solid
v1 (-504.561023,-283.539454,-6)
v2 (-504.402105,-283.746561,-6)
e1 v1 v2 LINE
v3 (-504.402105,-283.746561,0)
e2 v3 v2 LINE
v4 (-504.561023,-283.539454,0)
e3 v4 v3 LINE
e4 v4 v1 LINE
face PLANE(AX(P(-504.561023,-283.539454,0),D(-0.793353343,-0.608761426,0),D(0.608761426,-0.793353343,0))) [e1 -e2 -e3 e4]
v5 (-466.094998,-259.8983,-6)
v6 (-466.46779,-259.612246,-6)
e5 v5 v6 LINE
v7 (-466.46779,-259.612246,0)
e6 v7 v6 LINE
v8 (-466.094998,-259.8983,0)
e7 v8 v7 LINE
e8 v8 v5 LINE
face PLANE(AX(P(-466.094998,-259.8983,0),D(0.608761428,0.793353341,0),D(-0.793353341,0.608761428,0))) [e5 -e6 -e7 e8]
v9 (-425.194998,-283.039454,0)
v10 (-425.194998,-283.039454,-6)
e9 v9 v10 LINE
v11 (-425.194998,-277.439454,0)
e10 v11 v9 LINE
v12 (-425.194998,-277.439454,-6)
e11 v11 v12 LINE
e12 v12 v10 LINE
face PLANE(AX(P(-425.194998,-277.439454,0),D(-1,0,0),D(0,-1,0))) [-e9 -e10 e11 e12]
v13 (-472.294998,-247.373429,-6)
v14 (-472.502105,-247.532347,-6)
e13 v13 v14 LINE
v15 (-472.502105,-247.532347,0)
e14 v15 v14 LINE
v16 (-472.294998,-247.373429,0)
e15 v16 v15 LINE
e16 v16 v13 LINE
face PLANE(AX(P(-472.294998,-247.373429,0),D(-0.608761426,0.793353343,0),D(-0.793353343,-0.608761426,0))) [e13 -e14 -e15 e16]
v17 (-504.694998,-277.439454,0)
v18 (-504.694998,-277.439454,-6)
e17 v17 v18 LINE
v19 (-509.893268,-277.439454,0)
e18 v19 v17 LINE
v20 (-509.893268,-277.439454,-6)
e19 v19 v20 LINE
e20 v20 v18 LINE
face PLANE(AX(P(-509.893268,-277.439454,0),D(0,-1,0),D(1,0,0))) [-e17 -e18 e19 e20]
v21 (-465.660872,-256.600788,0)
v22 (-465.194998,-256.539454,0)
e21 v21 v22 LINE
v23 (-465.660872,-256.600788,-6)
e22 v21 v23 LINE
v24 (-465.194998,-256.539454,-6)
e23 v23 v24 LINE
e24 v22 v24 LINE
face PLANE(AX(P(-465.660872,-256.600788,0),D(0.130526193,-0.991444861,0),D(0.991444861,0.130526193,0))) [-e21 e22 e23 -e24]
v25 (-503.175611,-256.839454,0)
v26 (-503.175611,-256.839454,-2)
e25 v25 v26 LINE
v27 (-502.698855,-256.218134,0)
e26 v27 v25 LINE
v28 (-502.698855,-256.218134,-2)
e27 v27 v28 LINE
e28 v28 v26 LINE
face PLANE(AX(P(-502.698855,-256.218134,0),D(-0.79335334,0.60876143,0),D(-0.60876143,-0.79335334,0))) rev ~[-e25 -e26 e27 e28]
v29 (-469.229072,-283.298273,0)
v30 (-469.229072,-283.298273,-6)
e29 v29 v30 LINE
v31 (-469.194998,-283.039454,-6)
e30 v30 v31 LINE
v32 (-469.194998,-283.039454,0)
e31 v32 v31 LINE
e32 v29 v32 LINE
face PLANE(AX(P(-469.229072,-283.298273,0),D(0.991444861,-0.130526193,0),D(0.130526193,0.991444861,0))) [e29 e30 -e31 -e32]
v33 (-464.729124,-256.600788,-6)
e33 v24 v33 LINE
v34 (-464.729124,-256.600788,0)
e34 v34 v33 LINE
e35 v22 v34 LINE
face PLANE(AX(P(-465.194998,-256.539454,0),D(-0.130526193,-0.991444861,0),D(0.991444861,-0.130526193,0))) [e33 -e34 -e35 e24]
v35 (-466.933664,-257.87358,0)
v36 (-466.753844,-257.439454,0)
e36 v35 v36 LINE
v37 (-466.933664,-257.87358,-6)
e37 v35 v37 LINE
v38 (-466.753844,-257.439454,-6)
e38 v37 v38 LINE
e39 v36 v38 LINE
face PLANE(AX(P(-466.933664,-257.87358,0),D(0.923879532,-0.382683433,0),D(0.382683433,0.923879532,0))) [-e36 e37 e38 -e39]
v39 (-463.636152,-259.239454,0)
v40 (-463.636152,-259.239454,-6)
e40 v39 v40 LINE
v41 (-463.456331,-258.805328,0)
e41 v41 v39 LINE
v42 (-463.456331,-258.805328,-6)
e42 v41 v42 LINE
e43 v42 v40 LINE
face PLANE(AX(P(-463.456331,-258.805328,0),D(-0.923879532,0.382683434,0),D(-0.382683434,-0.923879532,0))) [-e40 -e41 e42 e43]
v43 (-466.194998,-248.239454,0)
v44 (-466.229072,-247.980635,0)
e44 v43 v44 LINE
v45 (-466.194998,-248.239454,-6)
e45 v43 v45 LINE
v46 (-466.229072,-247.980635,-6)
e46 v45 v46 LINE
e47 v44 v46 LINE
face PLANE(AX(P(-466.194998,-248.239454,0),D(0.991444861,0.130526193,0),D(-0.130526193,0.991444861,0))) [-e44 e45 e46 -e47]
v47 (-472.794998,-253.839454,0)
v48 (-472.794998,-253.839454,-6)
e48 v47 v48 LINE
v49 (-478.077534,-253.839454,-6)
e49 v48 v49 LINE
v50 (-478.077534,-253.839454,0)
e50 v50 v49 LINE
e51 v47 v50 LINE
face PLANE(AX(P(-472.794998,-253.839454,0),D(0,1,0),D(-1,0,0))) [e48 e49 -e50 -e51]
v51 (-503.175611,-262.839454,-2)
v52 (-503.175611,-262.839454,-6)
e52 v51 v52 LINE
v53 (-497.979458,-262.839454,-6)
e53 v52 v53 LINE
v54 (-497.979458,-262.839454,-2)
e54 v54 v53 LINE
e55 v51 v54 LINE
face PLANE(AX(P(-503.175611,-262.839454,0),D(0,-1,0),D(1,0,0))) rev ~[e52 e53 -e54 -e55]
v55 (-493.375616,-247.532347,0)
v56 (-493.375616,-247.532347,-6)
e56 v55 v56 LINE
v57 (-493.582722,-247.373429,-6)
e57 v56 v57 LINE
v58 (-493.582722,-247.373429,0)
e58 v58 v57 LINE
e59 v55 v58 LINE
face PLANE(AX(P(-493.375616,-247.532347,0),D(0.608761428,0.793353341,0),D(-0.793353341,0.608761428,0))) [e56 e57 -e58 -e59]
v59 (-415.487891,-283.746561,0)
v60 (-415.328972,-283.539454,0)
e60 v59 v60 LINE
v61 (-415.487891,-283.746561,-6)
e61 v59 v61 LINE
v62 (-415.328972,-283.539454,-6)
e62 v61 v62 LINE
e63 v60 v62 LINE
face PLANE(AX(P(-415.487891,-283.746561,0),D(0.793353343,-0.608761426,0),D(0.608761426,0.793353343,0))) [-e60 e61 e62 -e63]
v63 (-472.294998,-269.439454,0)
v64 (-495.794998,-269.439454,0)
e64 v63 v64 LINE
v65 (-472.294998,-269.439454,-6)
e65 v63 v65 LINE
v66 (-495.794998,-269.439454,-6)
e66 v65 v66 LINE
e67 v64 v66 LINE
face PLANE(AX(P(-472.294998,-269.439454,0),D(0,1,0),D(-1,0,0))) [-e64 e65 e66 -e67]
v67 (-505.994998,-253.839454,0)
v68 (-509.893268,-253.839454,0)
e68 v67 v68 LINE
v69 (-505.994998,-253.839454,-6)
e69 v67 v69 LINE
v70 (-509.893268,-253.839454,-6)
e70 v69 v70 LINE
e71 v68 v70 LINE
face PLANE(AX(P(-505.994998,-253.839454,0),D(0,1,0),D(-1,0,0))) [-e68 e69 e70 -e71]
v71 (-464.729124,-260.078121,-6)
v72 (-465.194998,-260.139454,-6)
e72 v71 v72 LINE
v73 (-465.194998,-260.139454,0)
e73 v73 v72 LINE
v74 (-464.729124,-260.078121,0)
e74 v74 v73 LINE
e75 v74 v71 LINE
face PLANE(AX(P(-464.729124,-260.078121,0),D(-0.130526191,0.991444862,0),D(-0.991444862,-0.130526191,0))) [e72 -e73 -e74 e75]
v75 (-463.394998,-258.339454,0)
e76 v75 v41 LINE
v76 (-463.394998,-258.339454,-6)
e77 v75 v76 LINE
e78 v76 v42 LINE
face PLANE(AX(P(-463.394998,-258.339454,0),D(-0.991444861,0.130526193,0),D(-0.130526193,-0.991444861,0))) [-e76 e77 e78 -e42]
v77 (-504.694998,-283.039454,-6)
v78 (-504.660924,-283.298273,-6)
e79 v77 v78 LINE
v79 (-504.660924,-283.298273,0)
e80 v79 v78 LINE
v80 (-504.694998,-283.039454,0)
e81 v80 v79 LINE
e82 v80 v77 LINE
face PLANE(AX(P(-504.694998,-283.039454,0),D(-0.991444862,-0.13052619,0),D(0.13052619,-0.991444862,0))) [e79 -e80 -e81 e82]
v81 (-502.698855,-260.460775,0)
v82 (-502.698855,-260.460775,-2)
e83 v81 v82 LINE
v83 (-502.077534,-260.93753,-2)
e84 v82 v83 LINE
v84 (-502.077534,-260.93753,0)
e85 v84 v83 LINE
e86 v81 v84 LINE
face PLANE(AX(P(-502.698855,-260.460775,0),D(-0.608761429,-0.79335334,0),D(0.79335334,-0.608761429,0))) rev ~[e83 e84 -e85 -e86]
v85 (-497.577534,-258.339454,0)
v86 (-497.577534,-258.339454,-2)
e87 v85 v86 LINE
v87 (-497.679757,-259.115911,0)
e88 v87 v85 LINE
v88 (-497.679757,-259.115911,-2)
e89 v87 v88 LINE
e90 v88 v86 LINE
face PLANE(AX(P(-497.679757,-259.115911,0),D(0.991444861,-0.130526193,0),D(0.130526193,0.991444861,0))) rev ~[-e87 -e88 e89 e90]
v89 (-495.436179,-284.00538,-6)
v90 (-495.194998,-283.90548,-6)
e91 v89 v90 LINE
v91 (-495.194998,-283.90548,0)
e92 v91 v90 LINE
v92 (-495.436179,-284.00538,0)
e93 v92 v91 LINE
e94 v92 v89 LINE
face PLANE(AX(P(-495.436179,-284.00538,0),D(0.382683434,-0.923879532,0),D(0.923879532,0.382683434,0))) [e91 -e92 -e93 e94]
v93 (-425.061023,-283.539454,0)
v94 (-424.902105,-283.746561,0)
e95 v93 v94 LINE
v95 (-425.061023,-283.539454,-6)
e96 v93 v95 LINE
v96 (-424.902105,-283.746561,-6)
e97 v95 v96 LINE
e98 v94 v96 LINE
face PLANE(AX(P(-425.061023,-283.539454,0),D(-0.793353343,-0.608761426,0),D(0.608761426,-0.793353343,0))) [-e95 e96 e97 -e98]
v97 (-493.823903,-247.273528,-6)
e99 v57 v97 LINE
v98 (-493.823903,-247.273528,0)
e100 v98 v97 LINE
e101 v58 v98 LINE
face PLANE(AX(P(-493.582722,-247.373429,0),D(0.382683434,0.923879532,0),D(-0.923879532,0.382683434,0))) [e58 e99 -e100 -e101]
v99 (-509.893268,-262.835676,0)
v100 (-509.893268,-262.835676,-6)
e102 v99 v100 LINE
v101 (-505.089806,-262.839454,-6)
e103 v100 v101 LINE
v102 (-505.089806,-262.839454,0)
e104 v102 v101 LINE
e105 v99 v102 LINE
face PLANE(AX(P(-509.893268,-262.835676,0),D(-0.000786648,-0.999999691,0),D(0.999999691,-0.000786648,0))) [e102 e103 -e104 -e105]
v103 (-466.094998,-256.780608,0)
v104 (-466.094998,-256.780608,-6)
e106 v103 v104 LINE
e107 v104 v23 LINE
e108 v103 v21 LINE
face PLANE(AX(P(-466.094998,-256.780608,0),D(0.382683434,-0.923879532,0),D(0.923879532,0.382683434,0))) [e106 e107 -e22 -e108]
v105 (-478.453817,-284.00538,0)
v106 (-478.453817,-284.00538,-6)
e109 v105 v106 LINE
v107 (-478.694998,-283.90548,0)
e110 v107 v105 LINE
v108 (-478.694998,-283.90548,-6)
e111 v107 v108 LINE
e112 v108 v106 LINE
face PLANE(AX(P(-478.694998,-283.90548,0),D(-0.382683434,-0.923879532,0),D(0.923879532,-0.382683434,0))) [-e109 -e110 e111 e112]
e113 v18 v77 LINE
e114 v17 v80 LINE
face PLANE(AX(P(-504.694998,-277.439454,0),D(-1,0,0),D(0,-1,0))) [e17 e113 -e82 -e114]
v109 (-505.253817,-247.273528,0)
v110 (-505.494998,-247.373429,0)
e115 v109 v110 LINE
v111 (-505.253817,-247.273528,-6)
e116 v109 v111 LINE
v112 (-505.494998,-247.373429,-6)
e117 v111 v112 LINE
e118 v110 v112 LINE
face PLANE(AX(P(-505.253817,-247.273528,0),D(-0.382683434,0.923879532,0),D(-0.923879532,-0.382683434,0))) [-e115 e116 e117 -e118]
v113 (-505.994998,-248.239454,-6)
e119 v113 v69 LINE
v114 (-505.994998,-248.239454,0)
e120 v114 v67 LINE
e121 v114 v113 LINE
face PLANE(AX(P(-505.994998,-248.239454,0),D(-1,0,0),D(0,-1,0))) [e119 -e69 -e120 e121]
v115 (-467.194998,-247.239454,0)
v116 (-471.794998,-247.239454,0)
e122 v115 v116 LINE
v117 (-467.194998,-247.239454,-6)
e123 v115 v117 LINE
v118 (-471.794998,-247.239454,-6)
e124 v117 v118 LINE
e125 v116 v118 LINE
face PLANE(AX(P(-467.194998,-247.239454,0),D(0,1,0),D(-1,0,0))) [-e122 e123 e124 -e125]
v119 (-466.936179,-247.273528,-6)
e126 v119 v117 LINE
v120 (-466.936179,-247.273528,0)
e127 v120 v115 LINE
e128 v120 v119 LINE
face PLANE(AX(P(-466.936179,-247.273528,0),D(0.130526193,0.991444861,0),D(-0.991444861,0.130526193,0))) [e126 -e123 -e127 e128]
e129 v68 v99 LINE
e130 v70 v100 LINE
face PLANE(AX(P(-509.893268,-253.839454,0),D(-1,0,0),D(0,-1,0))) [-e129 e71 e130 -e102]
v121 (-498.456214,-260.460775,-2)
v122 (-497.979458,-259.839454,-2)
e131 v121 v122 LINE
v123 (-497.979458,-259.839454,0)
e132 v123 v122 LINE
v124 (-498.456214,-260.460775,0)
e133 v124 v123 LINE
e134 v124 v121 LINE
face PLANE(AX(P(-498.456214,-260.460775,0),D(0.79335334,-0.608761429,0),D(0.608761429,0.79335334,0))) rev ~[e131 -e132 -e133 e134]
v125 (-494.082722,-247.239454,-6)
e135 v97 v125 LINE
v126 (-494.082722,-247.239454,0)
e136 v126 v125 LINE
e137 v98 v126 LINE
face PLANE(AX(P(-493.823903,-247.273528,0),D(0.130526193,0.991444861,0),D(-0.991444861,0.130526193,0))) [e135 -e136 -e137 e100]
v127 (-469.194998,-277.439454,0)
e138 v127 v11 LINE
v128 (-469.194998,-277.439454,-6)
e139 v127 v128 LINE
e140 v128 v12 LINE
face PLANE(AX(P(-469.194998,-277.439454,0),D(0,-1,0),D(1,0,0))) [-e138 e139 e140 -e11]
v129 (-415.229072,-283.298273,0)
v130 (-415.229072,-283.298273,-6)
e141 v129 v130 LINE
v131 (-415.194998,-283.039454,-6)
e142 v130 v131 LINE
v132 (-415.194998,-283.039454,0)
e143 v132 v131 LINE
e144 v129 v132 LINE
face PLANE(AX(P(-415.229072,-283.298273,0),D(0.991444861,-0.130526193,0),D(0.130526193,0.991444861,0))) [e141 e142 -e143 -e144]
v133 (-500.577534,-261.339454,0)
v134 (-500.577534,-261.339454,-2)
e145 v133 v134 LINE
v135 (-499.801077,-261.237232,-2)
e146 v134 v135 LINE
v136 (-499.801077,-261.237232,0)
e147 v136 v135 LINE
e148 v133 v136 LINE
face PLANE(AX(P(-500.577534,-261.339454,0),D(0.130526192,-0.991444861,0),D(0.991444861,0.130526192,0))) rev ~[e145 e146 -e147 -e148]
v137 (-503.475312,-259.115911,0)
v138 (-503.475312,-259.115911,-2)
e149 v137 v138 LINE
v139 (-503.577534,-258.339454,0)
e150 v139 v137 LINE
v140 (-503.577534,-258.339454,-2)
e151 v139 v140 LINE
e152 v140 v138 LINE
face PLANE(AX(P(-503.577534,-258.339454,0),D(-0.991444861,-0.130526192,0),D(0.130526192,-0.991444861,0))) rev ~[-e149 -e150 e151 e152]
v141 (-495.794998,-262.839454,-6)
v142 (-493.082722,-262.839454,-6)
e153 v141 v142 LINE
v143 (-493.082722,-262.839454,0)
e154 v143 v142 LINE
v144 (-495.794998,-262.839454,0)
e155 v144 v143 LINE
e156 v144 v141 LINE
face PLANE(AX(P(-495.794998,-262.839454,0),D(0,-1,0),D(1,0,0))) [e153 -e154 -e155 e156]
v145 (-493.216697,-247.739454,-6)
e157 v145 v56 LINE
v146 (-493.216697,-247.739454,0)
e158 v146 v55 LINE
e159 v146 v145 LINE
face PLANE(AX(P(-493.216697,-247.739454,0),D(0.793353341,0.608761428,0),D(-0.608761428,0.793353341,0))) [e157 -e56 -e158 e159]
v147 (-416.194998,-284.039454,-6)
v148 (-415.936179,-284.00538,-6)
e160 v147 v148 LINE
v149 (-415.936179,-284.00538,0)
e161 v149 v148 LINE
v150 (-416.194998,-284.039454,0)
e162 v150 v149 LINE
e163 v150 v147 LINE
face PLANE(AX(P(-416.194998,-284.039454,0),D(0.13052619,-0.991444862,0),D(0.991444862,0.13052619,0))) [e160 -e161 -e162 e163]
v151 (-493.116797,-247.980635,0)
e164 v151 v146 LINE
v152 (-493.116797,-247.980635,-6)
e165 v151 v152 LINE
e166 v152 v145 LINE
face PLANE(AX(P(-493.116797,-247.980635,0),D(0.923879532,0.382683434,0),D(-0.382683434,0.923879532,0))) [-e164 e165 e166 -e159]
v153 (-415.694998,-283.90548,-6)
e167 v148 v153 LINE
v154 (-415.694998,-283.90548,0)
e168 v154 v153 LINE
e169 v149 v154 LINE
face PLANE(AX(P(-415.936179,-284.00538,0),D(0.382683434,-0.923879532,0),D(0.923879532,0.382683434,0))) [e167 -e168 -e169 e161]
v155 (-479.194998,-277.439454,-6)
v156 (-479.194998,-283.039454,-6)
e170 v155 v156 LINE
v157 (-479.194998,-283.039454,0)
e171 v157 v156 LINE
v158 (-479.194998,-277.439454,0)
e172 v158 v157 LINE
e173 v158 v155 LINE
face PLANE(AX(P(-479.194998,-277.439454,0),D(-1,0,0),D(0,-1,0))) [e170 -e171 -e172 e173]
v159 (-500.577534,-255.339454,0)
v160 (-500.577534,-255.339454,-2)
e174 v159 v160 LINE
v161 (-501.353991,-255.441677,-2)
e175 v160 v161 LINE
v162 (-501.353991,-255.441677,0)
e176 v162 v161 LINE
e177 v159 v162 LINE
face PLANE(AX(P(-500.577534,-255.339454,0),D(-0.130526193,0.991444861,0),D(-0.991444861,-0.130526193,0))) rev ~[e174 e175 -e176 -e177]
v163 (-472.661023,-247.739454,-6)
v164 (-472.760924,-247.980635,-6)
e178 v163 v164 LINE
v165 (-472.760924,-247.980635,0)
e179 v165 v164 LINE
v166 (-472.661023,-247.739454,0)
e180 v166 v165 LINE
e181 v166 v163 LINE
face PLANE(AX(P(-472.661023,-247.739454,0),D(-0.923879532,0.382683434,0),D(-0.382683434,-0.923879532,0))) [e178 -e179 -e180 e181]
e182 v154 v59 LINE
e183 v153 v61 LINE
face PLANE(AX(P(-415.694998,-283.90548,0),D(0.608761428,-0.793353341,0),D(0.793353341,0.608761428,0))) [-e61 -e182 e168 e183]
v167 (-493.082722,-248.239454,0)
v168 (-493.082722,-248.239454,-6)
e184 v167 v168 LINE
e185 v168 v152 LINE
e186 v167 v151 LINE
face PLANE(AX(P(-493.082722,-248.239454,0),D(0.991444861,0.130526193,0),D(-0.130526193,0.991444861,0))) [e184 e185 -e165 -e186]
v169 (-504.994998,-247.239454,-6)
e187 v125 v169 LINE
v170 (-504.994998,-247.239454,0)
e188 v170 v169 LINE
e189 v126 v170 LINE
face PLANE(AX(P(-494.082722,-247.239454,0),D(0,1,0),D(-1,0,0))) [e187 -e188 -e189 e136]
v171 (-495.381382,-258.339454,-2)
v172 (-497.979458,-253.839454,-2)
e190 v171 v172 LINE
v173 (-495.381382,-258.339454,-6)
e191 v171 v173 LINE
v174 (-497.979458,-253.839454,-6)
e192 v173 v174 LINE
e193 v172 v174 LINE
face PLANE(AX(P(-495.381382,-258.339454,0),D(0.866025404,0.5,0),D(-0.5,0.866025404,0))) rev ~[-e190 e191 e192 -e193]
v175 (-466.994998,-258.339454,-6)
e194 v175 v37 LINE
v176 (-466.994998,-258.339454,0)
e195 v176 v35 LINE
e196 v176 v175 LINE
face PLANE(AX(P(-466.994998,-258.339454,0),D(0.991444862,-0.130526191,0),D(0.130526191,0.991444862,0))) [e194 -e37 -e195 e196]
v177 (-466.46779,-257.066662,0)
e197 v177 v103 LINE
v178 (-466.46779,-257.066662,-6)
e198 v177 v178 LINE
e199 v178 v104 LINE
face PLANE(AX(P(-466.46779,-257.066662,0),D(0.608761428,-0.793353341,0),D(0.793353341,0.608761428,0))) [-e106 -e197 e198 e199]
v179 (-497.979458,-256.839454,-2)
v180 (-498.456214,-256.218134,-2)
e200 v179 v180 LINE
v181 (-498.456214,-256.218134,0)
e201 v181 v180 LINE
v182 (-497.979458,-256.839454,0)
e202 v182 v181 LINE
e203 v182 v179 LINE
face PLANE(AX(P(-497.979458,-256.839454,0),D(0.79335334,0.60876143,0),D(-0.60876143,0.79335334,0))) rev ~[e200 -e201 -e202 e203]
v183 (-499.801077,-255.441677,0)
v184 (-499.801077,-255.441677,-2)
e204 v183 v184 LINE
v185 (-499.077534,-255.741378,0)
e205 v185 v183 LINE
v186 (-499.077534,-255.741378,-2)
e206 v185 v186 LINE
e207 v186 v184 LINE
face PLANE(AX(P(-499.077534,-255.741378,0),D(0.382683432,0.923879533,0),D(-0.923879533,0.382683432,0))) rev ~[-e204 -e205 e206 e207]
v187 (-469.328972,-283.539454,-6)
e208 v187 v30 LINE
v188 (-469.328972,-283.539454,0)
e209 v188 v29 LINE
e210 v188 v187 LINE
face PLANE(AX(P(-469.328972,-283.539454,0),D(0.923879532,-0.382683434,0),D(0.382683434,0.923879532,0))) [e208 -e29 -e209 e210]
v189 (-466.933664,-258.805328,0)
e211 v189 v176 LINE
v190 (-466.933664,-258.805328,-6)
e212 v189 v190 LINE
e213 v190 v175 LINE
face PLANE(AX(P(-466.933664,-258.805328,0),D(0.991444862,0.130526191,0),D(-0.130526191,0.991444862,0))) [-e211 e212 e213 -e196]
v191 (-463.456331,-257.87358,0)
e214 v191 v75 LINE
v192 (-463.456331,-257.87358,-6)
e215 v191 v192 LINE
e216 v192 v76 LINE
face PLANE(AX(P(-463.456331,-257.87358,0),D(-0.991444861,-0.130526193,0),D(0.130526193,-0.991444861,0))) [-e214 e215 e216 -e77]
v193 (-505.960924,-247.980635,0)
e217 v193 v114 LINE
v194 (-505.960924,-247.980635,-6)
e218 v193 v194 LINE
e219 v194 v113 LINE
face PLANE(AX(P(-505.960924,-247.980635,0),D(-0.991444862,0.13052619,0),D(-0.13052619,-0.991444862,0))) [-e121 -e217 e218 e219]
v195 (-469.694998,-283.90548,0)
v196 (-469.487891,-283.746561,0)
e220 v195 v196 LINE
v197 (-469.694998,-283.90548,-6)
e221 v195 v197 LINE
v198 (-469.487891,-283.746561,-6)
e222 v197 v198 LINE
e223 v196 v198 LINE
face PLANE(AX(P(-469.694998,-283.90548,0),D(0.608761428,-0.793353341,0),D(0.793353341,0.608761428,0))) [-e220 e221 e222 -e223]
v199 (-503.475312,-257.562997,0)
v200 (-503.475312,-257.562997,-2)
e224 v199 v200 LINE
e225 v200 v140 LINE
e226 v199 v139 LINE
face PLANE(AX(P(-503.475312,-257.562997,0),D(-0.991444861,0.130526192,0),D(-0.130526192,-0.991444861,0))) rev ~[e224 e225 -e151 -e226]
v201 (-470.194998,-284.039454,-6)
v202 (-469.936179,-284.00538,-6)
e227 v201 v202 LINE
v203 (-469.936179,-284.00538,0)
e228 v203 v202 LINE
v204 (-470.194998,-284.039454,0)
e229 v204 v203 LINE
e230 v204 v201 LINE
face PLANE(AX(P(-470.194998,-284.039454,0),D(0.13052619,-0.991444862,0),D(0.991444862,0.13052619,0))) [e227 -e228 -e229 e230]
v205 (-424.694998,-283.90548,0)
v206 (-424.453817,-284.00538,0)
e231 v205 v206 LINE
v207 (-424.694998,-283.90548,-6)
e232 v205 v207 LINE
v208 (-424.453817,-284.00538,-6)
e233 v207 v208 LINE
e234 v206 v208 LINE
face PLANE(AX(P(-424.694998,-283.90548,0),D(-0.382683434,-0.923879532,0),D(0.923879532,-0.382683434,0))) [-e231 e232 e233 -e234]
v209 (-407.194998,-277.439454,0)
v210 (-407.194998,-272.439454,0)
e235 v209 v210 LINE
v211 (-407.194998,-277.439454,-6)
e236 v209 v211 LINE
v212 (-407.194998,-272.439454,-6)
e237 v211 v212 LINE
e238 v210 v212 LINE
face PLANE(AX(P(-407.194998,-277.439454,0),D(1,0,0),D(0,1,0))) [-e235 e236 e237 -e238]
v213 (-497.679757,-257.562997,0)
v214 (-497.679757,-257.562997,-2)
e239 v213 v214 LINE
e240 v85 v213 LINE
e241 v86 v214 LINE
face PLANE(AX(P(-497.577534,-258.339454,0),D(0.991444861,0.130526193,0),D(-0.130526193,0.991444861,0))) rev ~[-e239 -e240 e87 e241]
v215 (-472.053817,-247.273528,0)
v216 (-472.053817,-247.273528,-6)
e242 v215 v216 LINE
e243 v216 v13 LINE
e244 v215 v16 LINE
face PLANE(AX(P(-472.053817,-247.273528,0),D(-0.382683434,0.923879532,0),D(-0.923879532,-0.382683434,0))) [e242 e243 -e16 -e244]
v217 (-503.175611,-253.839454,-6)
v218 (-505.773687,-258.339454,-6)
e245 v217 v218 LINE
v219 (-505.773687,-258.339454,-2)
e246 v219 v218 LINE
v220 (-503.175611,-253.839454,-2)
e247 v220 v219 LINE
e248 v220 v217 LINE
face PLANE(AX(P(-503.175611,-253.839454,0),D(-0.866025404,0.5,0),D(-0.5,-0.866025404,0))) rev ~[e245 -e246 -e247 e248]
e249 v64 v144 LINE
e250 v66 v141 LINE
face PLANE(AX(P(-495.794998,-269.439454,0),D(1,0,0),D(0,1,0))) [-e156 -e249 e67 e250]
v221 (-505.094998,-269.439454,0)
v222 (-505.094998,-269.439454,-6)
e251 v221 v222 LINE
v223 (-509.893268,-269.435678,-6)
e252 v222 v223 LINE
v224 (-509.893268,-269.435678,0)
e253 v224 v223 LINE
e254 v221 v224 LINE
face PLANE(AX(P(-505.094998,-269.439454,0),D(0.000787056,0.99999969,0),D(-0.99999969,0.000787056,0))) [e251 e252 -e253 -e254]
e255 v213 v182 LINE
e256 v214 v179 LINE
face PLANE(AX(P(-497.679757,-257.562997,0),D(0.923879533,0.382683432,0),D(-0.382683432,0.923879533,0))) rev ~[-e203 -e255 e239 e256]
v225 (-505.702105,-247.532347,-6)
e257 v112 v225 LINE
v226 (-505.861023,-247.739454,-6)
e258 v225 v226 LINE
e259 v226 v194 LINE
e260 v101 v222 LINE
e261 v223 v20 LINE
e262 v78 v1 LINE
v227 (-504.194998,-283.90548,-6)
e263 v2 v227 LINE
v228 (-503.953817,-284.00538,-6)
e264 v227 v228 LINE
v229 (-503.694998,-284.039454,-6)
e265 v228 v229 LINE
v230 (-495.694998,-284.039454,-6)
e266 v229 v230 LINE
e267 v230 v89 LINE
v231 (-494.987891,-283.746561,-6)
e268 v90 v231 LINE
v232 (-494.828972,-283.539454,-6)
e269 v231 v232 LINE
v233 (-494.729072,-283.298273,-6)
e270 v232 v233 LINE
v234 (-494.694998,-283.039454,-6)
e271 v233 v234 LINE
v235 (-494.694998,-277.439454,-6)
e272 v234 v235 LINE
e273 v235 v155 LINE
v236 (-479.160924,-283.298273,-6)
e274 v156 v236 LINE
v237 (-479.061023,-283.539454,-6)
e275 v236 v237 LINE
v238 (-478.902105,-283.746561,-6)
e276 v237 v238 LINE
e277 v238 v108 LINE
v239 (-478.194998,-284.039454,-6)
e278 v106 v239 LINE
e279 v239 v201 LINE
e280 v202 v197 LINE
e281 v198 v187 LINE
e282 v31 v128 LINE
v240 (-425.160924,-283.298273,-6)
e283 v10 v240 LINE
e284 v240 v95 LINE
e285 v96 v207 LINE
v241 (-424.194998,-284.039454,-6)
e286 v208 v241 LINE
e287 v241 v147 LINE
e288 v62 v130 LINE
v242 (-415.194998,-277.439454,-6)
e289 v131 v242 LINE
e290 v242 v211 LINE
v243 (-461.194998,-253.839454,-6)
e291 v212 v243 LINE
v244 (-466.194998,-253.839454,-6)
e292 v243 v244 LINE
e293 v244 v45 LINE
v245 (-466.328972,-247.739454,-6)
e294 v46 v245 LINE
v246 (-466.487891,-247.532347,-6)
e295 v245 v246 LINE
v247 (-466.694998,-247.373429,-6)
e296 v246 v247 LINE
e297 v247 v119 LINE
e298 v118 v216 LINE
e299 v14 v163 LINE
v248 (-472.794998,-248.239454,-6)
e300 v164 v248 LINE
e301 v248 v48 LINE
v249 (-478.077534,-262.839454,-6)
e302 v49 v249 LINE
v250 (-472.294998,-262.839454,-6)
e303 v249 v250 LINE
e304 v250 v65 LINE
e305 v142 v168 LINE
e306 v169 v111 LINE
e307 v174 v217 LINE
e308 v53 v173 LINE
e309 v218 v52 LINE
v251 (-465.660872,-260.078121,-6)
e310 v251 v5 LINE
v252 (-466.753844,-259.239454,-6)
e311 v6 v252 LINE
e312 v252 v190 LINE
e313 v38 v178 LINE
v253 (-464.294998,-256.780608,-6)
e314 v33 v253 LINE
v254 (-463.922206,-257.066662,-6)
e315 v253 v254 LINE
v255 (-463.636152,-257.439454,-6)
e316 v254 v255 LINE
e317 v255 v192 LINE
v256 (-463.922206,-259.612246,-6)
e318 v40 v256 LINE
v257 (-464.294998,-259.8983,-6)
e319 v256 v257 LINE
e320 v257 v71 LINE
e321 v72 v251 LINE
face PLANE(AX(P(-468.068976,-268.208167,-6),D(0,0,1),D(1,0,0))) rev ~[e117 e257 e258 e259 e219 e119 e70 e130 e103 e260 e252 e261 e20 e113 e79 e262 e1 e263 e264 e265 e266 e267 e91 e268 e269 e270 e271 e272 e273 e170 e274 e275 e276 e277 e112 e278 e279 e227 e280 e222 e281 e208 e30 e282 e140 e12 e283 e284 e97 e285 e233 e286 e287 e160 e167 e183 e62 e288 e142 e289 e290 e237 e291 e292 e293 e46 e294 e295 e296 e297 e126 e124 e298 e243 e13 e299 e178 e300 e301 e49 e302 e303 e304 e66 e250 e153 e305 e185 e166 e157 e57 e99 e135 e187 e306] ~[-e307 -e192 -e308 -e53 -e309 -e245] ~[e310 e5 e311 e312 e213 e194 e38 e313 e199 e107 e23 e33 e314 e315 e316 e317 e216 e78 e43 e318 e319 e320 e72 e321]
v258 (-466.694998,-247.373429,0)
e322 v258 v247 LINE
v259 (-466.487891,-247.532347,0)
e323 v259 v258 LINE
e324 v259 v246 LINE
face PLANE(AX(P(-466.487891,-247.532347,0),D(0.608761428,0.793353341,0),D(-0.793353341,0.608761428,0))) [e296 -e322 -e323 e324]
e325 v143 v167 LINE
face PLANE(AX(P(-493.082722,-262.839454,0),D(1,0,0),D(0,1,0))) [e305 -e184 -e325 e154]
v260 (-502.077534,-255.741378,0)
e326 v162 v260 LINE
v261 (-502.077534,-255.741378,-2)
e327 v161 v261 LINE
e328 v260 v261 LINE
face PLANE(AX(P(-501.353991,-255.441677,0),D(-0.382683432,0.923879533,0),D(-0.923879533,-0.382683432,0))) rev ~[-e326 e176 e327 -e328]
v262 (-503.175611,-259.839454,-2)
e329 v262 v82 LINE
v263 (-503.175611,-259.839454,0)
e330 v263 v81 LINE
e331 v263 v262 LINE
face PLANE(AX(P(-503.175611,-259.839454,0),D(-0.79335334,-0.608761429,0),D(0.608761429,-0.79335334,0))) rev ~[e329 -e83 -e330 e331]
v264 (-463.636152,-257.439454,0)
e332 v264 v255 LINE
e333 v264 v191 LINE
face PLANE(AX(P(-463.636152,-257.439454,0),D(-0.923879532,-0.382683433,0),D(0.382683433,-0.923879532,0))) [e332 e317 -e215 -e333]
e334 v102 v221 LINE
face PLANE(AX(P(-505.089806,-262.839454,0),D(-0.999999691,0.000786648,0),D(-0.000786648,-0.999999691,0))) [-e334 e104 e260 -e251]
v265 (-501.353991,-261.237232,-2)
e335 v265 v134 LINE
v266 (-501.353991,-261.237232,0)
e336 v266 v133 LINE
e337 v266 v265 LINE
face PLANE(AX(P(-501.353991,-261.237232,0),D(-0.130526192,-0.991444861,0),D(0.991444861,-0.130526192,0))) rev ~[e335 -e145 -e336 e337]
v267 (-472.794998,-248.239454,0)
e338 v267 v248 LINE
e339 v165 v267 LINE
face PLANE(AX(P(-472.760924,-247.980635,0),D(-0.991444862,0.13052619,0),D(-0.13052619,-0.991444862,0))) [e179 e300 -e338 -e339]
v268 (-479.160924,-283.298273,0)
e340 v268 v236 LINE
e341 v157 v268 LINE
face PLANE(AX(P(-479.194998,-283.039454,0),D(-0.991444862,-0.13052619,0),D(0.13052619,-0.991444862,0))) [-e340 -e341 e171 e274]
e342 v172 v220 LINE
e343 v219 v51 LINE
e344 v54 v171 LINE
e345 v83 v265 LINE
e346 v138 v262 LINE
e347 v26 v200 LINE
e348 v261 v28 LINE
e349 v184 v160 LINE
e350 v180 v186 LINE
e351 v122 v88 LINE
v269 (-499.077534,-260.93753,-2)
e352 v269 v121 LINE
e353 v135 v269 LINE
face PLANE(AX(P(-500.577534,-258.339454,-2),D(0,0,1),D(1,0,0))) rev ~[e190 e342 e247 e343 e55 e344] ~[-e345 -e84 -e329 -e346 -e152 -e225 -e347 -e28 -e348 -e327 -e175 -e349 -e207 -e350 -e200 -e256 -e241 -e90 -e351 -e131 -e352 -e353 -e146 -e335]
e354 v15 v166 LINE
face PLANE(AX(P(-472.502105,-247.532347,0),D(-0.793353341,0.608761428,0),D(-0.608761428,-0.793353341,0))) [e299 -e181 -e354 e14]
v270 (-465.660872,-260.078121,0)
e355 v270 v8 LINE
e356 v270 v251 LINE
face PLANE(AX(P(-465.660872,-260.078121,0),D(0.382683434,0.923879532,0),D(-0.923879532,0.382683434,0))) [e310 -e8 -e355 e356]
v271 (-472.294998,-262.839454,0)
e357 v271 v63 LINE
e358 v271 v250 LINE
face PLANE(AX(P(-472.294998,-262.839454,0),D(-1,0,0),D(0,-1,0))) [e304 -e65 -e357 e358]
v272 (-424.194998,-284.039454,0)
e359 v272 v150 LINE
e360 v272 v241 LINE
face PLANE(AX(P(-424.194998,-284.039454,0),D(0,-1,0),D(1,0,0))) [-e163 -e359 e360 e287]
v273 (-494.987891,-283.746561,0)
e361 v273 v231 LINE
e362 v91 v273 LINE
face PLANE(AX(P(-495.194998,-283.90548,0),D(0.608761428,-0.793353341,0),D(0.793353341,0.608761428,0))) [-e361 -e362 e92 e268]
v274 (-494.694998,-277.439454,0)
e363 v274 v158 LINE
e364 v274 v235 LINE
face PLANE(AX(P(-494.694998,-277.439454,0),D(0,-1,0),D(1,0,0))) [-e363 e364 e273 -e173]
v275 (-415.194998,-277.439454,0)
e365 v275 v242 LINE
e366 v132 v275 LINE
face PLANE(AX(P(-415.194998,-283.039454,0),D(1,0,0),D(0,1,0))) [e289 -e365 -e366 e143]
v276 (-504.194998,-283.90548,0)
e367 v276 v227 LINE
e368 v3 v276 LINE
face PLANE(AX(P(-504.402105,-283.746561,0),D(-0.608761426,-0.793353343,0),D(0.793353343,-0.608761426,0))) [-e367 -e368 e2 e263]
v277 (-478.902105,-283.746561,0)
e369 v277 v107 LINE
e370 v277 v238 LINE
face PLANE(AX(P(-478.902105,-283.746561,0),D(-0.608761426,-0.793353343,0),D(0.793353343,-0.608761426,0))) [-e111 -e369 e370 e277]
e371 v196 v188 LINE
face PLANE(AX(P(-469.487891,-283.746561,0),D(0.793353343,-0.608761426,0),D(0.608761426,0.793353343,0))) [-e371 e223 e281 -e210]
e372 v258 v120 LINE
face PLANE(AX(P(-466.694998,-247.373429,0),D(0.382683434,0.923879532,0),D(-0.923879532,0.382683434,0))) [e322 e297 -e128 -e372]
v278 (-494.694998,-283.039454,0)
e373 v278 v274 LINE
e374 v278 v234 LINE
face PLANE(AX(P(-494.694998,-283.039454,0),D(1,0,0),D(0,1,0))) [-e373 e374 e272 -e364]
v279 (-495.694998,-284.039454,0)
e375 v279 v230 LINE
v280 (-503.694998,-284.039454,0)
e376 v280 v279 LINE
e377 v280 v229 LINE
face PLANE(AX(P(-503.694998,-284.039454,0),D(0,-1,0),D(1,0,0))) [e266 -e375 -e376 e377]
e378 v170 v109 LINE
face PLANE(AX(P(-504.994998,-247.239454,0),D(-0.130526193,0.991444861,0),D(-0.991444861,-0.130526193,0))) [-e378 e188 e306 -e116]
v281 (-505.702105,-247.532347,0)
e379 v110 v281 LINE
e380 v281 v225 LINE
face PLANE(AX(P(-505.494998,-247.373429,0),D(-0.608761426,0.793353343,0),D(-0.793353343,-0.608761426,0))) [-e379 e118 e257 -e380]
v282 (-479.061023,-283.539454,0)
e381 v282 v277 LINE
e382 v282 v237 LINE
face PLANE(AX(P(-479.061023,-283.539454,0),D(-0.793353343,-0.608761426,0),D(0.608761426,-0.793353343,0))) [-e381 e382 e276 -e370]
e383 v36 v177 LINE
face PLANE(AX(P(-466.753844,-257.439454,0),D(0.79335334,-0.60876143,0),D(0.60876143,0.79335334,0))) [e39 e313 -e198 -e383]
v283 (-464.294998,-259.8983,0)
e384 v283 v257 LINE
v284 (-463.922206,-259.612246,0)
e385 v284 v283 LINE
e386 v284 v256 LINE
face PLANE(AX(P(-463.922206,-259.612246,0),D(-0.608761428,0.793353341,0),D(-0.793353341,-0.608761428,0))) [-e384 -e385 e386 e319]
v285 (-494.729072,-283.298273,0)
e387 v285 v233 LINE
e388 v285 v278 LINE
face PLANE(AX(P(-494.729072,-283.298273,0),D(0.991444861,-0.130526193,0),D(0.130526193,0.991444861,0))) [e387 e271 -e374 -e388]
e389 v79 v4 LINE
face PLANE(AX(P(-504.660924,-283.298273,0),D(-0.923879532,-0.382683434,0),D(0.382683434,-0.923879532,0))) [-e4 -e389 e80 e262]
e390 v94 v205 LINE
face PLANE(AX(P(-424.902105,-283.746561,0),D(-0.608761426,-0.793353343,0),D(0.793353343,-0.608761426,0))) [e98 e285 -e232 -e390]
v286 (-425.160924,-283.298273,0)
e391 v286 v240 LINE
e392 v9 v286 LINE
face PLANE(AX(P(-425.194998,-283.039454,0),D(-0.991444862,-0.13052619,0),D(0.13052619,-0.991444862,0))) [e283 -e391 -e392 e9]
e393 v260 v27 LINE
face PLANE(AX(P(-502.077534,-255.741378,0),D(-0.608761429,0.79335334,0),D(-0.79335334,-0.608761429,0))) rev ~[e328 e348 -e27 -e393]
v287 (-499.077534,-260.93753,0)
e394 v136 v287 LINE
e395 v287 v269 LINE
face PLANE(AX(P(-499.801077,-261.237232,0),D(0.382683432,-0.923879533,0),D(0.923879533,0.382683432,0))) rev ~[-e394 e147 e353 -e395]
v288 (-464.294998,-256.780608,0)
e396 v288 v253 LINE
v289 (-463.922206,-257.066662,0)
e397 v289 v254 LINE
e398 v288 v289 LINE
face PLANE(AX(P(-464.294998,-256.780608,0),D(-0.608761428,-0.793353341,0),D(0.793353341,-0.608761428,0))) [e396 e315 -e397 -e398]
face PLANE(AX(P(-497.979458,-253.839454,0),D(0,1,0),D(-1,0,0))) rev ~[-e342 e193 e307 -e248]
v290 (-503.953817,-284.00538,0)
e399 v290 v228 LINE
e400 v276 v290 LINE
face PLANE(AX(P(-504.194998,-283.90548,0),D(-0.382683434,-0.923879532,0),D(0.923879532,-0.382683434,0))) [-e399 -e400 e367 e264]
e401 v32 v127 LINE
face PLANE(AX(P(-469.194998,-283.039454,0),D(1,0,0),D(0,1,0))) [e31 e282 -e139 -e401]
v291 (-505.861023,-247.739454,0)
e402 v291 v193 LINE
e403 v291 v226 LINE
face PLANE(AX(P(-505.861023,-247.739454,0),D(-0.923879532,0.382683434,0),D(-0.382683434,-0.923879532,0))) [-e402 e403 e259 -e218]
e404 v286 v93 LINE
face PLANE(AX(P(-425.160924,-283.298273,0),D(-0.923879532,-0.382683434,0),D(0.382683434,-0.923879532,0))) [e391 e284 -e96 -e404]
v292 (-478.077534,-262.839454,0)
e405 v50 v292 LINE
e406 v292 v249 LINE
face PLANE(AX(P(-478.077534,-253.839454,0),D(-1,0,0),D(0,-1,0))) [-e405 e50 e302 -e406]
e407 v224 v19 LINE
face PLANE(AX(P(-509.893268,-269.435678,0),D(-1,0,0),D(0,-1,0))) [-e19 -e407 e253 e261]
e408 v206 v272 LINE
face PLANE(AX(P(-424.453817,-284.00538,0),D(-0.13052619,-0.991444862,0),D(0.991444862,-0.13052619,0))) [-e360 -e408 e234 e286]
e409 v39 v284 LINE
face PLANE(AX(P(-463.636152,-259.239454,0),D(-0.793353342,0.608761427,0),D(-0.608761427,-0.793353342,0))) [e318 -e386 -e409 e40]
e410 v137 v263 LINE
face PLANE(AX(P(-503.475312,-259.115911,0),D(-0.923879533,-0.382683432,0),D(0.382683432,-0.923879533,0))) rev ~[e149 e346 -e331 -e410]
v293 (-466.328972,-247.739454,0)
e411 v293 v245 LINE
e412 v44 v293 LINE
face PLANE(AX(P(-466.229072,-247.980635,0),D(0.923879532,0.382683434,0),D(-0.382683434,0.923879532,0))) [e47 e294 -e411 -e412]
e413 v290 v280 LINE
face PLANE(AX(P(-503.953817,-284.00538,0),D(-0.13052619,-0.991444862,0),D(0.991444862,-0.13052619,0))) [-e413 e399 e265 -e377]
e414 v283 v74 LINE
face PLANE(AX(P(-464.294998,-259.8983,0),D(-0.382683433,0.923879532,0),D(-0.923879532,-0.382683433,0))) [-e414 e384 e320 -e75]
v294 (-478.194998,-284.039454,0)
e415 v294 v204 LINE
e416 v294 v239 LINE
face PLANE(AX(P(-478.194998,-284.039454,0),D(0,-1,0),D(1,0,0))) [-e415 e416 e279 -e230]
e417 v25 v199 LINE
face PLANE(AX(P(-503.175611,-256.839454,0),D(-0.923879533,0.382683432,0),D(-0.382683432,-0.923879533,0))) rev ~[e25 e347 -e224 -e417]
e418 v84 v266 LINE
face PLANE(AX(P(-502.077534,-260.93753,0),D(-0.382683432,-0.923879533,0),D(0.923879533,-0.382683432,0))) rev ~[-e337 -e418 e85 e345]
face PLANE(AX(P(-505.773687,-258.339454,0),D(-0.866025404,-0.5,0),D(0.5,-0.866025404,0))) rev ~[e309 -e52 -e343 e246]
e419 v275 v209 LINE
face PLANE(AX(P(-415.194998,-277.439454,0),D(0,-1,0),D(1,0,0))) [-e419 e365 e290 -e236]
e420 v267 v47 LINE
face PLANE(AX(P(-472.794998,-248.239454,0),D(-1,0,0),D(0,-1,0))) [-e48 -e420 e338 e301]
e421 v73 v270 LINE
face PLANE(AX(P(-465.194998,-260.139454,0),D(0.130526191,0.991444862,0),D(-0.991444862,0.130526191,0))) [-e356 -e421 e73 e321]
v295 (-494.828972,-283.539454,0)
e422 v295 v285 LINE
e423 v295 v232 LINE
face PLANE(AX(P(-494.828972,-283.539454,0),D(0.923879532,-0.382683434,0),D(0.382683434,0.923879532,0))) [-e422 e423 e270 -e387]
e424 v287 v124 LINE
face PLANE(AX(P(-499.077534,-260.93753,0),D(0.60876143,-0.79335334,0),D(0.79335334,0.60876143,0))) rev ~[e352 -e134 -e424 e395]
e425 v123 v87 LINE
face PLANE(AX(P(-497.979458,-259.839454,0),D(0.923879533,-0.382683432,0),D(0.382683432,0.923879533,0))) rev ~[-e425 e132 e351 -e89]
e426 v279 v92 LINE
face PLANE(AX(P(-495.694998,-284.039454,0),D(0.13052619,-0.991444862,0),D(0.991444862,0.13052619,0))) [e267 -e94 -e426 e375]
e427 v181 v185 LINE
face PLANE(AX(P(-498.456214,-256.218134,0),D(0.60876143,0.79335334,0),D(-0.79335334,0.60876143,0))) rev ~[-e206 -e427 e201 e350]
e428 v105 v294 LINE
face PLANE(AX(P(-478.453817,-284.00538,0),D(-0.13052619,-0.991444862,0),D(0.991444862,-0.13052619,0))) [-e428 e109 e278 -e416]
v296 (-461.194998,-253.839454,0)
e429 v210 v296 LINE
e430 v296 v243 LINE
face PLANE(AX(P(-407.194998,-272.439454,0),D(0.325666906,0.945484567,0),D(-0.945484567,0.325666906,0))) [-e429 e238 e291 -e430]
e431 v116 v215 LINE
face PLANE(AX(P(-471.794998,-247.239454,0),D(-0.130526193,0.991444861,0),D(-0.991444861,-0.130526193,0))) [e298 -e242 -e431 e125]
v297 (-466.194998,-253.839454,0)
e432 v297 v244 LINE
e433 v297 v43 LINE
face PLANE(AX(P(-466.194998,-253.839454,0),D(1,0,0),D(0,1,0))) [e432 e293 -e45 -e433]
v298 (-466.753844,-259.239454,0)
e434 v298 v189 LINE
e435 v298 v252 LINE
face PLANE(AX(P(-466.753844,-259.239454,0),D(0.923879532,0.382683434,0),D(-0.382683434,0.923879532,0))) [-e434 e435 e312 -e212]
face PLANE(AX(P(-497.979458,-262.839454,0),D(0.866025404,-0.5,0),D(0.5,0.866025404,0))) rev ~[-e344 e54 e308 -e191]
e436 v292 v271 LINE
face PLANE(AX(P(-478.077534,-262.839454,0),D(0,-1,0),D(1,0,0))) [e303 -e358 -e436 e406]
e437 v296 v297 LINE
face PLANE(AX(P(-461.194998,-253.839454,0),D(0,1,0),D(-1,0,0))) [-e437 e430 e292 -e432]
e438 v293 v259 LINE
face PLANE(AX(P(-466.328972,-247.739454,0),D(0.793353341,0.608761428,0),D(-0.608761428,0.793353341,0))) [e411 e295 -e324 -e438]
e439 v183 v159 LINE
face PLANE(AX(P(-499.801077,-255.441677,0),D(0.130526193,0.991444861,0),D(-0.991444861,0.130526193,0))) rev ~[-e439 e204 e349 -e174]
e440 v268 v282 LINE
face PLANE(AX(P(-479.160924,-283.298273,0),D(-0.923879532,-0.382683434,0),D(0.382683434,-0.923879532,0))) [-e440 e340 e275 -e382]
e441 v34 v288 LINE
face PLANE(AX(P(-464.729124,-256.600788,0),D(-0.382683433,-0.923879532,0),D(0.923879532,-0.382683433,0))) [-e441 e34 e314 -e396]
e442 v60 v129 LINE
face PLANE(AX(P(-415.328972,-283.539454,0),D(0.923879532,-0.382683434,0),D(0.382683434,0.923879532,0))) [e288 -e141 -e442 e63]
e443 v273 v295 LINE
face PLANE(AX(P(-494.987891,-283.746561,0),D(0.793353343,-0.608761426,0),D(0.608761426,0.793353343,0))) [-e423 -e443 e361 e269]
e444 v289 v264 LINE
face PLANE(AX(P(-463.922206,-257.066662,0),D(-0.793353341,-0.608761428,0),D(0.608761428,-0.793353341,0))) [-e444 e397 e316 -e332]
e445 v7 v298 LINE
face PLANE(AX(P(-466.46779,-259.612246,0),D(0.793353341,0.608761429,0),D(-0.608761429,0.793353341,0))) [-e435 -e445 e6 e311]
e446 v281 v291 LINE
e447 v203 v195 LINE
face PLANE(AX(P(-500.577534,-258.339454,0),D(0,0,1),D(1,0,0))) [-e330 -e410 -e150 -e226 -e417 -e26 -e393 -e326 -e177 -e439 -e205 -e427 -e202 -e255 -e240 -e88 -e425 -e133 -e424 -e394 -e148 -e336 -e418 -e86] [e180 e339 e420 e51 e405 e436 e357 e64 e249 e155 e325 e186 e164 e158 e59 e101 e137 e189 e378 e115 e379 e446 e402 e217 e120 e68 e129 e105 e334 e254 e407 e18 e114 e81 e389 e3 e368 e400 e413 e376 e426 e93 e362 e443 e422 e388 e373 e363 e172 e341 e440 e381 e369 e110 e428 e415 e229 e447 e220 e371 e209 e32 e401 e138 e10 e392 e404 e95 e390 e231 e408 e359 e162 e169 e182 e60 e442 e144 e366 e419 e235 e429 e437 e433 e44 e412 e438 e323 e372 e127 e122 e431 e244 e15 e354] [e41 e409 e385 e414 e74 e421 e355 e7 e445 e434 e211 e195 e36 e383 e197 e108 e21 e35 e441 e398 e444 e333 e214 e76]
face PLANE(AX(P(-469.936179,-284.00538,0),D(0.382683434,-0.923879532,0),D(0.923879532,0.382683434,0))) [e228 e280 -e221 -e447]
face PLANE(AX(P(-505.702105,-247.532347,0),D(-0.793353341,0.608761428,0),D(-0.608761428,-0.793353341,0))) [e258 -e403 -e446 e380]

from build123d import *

# Parameters (mm, degrees)
BOSS_EXTRUDE1_DEPTH = 6
BOSS_EXTRUDE2_DEPTH = 2


with BuildPart() as part:
    # Sketch1 → Boss-Extrude1 (new body)
    with BuildSketch(Plane.XY):
        Polygon((-478.194997877, -284.039454162), (-470.194997877, -284.039454162), (-469.936178832, -284.005379989), (-469.694997877, -283.905479566), (-469.487891096, -283.746560944), (-469.328972474, -283.539454162), (-469.229072051, -283.298273207), (-469.194997877, -283.039454162), (-469.194997877, -277.439454162), (-425.194997877, -277.439454162), (-425.194997877, -283.039454162), (-425.160923704, -283.298273207), (-425.061023281, -283.539454162), (-424.902104659, -283.746560944), (-424.694997877, -283.905479566), (-424.453816922, -284.005379989), (-424.194997877, -284.039454162), (-416.194997877, -284.039454162), (-415.936178832, -284.005379989), (-415.694997877, -283.905479566), (-415.487891096, -283.746560944), (-415.328972474, -283.539454162), (-415.229072051, -283.298273207), (-415.194997877, -283.039454162), (-415.194997877, -277.439454162), (-407.194997877, -277.439454162), (-407.194997877, -272.439454162), (-461.194997877, -253.839454162), (-466.194997877, -253.839454162), (-466.194997877, -248.239454162), (-466.229072051, -247.980635117), (-466.328972474, -247.739454162), (-466.487891096, -247.532347381), (-466.694997877, -247.373428759), (-466.936178832, -247.273528336), (-467.194997877, -247.239454162), (-471.794997877, -247.239454162), (-472.053816922, -247.273528336), (-472.294997877, -247.373428759), (-472.502104659, -247.532347381), (-472.661023281, -247.739454162), (-472.760923704, -247.980635117), (-472.794997877, -248.239454162), (-472.794997877, -253.839454162), (-478.077534288, -253.839454162), (-478.077534288, -262.839454162), (-472.294997877, -262.839454162), (-472.294997877, -269.439454162), (-495.794997877, -269.439454162), (-495.794997877, -262.839454162), (-493.082722453, -262.839454162), (-493.082722453, -248.239454162), (-493.116796627, -247.980635117), (-493.21669705, -247.739454162), (-493.375615672, -247.532347381), (-493.582722453, -247.373428759), (-493.823903408, -247.273528336), (-494.082722453, -247.239454162), (-504.994997877, -247.239454162), (-505.253816922, -247.273528336), (-505.494997877, -247.373428759), (-505.702104659, -247.532347381), (-505.861023281, -247.739454162), (-505.960923704, -247.980635117), (-505.994997877, -248.239454162), (-505.994997877, -253.839454162), (-509.893267758, -253.839454162), (-509.893267758, -262.835675528), (-505.089806, -262.839454162), (-505.094997877, -269.439454162), (-509.893267758, -269.435677653), (-509.893267758, -277.439454162), (-504.694997877, -277.439454162), (-504.694997877, -283.039454162), (-504.660923704, -283.298273207), (-504.561023281, -283.539454162), (-504.402104659, -283.746560944), (-504.194997877, -283.905479566), (-503.953816922, -284.005379989), (-503.694997877, -284.039454162), (-495.694997877, -284.039454162), (-495.436178832, -284.005379989), (-495.194997877, -283.905479566), (-494.987891096, -283.746560944), (-494.828972474, -283.539454162), (-494.729072051, -283.298273207), (-494.694997877, -283.039454162), (-494.694997877, -277.439454162), (-479.194997877, -277.439454162), (-479.194997877, -283.039454162), (-479.160923704, -283.298273207), (-479.061023281, -283.539454162), (-478.902104659, -283.746560944), (-478.694997877, -283.905479566), (-478.453816922, -284.005379989), align=None)
        Polygon((-463.922205671, -257.066661956), (-463.636152151, -257.439454162), (-463.45633139, -257.873579881), (-463.394997877, -258.339454162), (-463.45633139, -258.805328444), (-463.636152151, -259.239454162), (-463.922205671, -259.612246369), (-464.294997877, -259.898299889), (-464.729123596, -260.07812065), (-465.194997877, -260.139454162), (-465.660872159, -260.07812065), (-466.094997877, -259.898299889), (-466.467790083, -259.612246369), (-466.753843604, -259.239454162), (-466.933664365, -258.805328444), (-466.994997877, -258.339454162), (-466.933664365, -257.873579881), (-466.753843604, -257.439454162), (-466.467790083, -257.066661956), (-466.094997877, -256.780608436), (-465.660872159, -256.600787675), (-465.194997877, -256.539454162), (-464.729123596, -256.600787675), (-464.294997877, -256.780608436), align=None, mode=Mode.SUBTRACT)
        Polygon((-503.1756105, -253.839454162), (-505.773686711, -258.339454162), (-503.1756105, -262.839454162), (-497.979458077, -262.839454162), (-495.381381866, -258.339454162), (-497.979458077, -253.839454162), align=None, mode=Mode.SUBTRACT)
    extrude(amount=-BOSS_EXTRUDE1_DEPTH)

    # Sketch1_4 → Boss-Extrude2 (add)
    with BuildSketch(Plane.XY):
        Polygon((-497.979458077, -262.839454162), (-495.381381866, -258.339454162), (-497.979458077, -253.839454162), (-503.1756105, -253.839454162), (-505.773686711, -258.339454162), (-503.1756105, -262.839454162), align=None)
        Polygon((-498.094928131, -254.039454162), (-503.060140446, -254.039454162), (-505.542746604, -258.339454162), (-503.060140446, -262.639454162), (-498.094928131, -262.639454162), (-495.612321973, -258.339454162), align=None, mode=Mode.SUBTRACT)
        Polygon((-495.612321973, -258.339454162), (-498.094928131, -254.039454162), (-503.060140446, -254.039454162), (-505.542746604, -258.339454162), (-503.060140446, -262.639454162), (-498.094928131, -262.639454162), align=None)
        Polygon((-498.210398185, -262.439454162), (-495.843262081, -258.339454162), (-498.210398185, -254.239454162), (-502.944670392, -254.239454162), (-505.311806496, -258.339454162), (-502.944670392, -262.439454162), align=None, mode=Mode.SUBTRACT)
        Polygon((-502.944670392, -262.439454162), (-498.210398185, -262.439454162), (-495.843262081, -258.339454162), (-498.210398185, -254.239454162), (-502.944670392, -254.239454162), (-505.311806496, -258.339454162), align=None)
        Polygon((-496.074202189, -258.339454162), (-498.325868239, -254.439454162), (-502.829200338, -254.439454162), (-505.080866388, -258.339454162), (-502.829200338, -262.239454162), (-498.325868239, -262.239454162), align=None, mode=Mode.SUBTRACT)
        Polygon((-498.325868239, -262.239454162), (-496.074202189, -258.339454162), (-498.325868239, -254.439454162), (-502.829200338, -254.439454162), (-505.080866388, -258.339454162), (-502.829200338, -262.239454162), align=None)
        Polygon((-496.305142296, -258.339454162), (-498.441338292, -254.639454162), (-502.713730284, -254.639454162), (-504.84992628, -258.339454162), (-502.713730284, -262.039454162), (-498.441338292, -262.039454162), align=None, mode=Mode.SUBTRACT)
        Polygon((-498.441338292, -262.039454162), (-496.305142296, -258.339454162), (-498.441338292, -254.639454162), (-502.713730284, -254.639454162), (-504.84992628, -258.339454162), (-502.713730284, -262.039454162), align=None)
        Polygon((-504.618986173, -258.339454162), (-502.598260231, -261.839454162), (-498.556808346, -261.839454162), (-496.536082404, -258.339454162), (-498.556808346, -254.839454162), (-502.598260231, -254.839454162), align=None, mode=Mode.SUBTRACT)
        Polygon((-502.598260231, -254.839454162), (-504.618986173, -258.339454162), (-502.598260231, -261.839454162), (-498.556808346, -261.839454162), (-496.536082404, -258.339454162), (-498.556808346, -254.839454162), align=None)
        Polygon((-502.482790177, -261.639454162), (-498.6722784, -261.639454162), (-496.767022512, -258.339454162), (-498.6722784, -255.039454162), (-502.482790177, -255.039454162), (-504.388046065, -258.339454162), align=None, mode=Mode.SUBTRACT)
        Polygon((-504.388046065, -258.339454162), (-502.482790177, -261.639454162), (-498.6722784, -261.639454162), (-496.767022512, -258.339454162), (-498.6722784, -255.039454162), (-502.482790177, -255.039454162), align=None)
        Polygon((-504.157105957, -258.339454162), (-502.367320123, -261.439454162), (-498.787748454, -261.439454162), (-496.99796262, -258.339454162), (-498.787748454, -255.239454162), (-502.367320123, -255.239454162), align=None, mode=Mode.SUBTRACT)
        Polygon((-502.367320123, -255.239454162), (-504.157105957, -258.339454162), (-502.367320123, -261.439454162), (-498.787748454, -261.439454162), (-496.99796262, -258.339454162), (-498.787748454, -255.239454162), align=None)
        Polygon((-503.475311767, -257.562997027), (-503.577534288, -258.339454162), (-503.475311767, -259.115911298), (-503.1756105, -259.839454162), (-502.698854632, -260.460774506), (-502.077534288, -260.937530374), (-501.353991424, -261.237231641), (-500.577534288, -261.339454162), (-499.801077153, -261.237231641), (-499.077534288, -260.937530374), (-498.456213945, -260.460774506), (-497.979458077, -259.839454162), (-497.67975681, -259.115911298), (-497.577534288, -258.339454162), (-497.67975681, -257.562997027), (-497.979458077, -256.839454162), (-498.456213945, -256.218133819), (-499.077534288, -255.741377951), (-499.801077153, -255.441676684), (-500.577534288, -255.339454162), (-501.353991424, -255.441676684), (-502.077534288, -255.741377951), (-502.698854632, -256.218133819), (-503.1756105, -256.839454162), align=None, mode=Mode.SUBTRACT)
    extrude(amount=-BOSS_EXTRUDE2_DEPTH)


solid = part.part
